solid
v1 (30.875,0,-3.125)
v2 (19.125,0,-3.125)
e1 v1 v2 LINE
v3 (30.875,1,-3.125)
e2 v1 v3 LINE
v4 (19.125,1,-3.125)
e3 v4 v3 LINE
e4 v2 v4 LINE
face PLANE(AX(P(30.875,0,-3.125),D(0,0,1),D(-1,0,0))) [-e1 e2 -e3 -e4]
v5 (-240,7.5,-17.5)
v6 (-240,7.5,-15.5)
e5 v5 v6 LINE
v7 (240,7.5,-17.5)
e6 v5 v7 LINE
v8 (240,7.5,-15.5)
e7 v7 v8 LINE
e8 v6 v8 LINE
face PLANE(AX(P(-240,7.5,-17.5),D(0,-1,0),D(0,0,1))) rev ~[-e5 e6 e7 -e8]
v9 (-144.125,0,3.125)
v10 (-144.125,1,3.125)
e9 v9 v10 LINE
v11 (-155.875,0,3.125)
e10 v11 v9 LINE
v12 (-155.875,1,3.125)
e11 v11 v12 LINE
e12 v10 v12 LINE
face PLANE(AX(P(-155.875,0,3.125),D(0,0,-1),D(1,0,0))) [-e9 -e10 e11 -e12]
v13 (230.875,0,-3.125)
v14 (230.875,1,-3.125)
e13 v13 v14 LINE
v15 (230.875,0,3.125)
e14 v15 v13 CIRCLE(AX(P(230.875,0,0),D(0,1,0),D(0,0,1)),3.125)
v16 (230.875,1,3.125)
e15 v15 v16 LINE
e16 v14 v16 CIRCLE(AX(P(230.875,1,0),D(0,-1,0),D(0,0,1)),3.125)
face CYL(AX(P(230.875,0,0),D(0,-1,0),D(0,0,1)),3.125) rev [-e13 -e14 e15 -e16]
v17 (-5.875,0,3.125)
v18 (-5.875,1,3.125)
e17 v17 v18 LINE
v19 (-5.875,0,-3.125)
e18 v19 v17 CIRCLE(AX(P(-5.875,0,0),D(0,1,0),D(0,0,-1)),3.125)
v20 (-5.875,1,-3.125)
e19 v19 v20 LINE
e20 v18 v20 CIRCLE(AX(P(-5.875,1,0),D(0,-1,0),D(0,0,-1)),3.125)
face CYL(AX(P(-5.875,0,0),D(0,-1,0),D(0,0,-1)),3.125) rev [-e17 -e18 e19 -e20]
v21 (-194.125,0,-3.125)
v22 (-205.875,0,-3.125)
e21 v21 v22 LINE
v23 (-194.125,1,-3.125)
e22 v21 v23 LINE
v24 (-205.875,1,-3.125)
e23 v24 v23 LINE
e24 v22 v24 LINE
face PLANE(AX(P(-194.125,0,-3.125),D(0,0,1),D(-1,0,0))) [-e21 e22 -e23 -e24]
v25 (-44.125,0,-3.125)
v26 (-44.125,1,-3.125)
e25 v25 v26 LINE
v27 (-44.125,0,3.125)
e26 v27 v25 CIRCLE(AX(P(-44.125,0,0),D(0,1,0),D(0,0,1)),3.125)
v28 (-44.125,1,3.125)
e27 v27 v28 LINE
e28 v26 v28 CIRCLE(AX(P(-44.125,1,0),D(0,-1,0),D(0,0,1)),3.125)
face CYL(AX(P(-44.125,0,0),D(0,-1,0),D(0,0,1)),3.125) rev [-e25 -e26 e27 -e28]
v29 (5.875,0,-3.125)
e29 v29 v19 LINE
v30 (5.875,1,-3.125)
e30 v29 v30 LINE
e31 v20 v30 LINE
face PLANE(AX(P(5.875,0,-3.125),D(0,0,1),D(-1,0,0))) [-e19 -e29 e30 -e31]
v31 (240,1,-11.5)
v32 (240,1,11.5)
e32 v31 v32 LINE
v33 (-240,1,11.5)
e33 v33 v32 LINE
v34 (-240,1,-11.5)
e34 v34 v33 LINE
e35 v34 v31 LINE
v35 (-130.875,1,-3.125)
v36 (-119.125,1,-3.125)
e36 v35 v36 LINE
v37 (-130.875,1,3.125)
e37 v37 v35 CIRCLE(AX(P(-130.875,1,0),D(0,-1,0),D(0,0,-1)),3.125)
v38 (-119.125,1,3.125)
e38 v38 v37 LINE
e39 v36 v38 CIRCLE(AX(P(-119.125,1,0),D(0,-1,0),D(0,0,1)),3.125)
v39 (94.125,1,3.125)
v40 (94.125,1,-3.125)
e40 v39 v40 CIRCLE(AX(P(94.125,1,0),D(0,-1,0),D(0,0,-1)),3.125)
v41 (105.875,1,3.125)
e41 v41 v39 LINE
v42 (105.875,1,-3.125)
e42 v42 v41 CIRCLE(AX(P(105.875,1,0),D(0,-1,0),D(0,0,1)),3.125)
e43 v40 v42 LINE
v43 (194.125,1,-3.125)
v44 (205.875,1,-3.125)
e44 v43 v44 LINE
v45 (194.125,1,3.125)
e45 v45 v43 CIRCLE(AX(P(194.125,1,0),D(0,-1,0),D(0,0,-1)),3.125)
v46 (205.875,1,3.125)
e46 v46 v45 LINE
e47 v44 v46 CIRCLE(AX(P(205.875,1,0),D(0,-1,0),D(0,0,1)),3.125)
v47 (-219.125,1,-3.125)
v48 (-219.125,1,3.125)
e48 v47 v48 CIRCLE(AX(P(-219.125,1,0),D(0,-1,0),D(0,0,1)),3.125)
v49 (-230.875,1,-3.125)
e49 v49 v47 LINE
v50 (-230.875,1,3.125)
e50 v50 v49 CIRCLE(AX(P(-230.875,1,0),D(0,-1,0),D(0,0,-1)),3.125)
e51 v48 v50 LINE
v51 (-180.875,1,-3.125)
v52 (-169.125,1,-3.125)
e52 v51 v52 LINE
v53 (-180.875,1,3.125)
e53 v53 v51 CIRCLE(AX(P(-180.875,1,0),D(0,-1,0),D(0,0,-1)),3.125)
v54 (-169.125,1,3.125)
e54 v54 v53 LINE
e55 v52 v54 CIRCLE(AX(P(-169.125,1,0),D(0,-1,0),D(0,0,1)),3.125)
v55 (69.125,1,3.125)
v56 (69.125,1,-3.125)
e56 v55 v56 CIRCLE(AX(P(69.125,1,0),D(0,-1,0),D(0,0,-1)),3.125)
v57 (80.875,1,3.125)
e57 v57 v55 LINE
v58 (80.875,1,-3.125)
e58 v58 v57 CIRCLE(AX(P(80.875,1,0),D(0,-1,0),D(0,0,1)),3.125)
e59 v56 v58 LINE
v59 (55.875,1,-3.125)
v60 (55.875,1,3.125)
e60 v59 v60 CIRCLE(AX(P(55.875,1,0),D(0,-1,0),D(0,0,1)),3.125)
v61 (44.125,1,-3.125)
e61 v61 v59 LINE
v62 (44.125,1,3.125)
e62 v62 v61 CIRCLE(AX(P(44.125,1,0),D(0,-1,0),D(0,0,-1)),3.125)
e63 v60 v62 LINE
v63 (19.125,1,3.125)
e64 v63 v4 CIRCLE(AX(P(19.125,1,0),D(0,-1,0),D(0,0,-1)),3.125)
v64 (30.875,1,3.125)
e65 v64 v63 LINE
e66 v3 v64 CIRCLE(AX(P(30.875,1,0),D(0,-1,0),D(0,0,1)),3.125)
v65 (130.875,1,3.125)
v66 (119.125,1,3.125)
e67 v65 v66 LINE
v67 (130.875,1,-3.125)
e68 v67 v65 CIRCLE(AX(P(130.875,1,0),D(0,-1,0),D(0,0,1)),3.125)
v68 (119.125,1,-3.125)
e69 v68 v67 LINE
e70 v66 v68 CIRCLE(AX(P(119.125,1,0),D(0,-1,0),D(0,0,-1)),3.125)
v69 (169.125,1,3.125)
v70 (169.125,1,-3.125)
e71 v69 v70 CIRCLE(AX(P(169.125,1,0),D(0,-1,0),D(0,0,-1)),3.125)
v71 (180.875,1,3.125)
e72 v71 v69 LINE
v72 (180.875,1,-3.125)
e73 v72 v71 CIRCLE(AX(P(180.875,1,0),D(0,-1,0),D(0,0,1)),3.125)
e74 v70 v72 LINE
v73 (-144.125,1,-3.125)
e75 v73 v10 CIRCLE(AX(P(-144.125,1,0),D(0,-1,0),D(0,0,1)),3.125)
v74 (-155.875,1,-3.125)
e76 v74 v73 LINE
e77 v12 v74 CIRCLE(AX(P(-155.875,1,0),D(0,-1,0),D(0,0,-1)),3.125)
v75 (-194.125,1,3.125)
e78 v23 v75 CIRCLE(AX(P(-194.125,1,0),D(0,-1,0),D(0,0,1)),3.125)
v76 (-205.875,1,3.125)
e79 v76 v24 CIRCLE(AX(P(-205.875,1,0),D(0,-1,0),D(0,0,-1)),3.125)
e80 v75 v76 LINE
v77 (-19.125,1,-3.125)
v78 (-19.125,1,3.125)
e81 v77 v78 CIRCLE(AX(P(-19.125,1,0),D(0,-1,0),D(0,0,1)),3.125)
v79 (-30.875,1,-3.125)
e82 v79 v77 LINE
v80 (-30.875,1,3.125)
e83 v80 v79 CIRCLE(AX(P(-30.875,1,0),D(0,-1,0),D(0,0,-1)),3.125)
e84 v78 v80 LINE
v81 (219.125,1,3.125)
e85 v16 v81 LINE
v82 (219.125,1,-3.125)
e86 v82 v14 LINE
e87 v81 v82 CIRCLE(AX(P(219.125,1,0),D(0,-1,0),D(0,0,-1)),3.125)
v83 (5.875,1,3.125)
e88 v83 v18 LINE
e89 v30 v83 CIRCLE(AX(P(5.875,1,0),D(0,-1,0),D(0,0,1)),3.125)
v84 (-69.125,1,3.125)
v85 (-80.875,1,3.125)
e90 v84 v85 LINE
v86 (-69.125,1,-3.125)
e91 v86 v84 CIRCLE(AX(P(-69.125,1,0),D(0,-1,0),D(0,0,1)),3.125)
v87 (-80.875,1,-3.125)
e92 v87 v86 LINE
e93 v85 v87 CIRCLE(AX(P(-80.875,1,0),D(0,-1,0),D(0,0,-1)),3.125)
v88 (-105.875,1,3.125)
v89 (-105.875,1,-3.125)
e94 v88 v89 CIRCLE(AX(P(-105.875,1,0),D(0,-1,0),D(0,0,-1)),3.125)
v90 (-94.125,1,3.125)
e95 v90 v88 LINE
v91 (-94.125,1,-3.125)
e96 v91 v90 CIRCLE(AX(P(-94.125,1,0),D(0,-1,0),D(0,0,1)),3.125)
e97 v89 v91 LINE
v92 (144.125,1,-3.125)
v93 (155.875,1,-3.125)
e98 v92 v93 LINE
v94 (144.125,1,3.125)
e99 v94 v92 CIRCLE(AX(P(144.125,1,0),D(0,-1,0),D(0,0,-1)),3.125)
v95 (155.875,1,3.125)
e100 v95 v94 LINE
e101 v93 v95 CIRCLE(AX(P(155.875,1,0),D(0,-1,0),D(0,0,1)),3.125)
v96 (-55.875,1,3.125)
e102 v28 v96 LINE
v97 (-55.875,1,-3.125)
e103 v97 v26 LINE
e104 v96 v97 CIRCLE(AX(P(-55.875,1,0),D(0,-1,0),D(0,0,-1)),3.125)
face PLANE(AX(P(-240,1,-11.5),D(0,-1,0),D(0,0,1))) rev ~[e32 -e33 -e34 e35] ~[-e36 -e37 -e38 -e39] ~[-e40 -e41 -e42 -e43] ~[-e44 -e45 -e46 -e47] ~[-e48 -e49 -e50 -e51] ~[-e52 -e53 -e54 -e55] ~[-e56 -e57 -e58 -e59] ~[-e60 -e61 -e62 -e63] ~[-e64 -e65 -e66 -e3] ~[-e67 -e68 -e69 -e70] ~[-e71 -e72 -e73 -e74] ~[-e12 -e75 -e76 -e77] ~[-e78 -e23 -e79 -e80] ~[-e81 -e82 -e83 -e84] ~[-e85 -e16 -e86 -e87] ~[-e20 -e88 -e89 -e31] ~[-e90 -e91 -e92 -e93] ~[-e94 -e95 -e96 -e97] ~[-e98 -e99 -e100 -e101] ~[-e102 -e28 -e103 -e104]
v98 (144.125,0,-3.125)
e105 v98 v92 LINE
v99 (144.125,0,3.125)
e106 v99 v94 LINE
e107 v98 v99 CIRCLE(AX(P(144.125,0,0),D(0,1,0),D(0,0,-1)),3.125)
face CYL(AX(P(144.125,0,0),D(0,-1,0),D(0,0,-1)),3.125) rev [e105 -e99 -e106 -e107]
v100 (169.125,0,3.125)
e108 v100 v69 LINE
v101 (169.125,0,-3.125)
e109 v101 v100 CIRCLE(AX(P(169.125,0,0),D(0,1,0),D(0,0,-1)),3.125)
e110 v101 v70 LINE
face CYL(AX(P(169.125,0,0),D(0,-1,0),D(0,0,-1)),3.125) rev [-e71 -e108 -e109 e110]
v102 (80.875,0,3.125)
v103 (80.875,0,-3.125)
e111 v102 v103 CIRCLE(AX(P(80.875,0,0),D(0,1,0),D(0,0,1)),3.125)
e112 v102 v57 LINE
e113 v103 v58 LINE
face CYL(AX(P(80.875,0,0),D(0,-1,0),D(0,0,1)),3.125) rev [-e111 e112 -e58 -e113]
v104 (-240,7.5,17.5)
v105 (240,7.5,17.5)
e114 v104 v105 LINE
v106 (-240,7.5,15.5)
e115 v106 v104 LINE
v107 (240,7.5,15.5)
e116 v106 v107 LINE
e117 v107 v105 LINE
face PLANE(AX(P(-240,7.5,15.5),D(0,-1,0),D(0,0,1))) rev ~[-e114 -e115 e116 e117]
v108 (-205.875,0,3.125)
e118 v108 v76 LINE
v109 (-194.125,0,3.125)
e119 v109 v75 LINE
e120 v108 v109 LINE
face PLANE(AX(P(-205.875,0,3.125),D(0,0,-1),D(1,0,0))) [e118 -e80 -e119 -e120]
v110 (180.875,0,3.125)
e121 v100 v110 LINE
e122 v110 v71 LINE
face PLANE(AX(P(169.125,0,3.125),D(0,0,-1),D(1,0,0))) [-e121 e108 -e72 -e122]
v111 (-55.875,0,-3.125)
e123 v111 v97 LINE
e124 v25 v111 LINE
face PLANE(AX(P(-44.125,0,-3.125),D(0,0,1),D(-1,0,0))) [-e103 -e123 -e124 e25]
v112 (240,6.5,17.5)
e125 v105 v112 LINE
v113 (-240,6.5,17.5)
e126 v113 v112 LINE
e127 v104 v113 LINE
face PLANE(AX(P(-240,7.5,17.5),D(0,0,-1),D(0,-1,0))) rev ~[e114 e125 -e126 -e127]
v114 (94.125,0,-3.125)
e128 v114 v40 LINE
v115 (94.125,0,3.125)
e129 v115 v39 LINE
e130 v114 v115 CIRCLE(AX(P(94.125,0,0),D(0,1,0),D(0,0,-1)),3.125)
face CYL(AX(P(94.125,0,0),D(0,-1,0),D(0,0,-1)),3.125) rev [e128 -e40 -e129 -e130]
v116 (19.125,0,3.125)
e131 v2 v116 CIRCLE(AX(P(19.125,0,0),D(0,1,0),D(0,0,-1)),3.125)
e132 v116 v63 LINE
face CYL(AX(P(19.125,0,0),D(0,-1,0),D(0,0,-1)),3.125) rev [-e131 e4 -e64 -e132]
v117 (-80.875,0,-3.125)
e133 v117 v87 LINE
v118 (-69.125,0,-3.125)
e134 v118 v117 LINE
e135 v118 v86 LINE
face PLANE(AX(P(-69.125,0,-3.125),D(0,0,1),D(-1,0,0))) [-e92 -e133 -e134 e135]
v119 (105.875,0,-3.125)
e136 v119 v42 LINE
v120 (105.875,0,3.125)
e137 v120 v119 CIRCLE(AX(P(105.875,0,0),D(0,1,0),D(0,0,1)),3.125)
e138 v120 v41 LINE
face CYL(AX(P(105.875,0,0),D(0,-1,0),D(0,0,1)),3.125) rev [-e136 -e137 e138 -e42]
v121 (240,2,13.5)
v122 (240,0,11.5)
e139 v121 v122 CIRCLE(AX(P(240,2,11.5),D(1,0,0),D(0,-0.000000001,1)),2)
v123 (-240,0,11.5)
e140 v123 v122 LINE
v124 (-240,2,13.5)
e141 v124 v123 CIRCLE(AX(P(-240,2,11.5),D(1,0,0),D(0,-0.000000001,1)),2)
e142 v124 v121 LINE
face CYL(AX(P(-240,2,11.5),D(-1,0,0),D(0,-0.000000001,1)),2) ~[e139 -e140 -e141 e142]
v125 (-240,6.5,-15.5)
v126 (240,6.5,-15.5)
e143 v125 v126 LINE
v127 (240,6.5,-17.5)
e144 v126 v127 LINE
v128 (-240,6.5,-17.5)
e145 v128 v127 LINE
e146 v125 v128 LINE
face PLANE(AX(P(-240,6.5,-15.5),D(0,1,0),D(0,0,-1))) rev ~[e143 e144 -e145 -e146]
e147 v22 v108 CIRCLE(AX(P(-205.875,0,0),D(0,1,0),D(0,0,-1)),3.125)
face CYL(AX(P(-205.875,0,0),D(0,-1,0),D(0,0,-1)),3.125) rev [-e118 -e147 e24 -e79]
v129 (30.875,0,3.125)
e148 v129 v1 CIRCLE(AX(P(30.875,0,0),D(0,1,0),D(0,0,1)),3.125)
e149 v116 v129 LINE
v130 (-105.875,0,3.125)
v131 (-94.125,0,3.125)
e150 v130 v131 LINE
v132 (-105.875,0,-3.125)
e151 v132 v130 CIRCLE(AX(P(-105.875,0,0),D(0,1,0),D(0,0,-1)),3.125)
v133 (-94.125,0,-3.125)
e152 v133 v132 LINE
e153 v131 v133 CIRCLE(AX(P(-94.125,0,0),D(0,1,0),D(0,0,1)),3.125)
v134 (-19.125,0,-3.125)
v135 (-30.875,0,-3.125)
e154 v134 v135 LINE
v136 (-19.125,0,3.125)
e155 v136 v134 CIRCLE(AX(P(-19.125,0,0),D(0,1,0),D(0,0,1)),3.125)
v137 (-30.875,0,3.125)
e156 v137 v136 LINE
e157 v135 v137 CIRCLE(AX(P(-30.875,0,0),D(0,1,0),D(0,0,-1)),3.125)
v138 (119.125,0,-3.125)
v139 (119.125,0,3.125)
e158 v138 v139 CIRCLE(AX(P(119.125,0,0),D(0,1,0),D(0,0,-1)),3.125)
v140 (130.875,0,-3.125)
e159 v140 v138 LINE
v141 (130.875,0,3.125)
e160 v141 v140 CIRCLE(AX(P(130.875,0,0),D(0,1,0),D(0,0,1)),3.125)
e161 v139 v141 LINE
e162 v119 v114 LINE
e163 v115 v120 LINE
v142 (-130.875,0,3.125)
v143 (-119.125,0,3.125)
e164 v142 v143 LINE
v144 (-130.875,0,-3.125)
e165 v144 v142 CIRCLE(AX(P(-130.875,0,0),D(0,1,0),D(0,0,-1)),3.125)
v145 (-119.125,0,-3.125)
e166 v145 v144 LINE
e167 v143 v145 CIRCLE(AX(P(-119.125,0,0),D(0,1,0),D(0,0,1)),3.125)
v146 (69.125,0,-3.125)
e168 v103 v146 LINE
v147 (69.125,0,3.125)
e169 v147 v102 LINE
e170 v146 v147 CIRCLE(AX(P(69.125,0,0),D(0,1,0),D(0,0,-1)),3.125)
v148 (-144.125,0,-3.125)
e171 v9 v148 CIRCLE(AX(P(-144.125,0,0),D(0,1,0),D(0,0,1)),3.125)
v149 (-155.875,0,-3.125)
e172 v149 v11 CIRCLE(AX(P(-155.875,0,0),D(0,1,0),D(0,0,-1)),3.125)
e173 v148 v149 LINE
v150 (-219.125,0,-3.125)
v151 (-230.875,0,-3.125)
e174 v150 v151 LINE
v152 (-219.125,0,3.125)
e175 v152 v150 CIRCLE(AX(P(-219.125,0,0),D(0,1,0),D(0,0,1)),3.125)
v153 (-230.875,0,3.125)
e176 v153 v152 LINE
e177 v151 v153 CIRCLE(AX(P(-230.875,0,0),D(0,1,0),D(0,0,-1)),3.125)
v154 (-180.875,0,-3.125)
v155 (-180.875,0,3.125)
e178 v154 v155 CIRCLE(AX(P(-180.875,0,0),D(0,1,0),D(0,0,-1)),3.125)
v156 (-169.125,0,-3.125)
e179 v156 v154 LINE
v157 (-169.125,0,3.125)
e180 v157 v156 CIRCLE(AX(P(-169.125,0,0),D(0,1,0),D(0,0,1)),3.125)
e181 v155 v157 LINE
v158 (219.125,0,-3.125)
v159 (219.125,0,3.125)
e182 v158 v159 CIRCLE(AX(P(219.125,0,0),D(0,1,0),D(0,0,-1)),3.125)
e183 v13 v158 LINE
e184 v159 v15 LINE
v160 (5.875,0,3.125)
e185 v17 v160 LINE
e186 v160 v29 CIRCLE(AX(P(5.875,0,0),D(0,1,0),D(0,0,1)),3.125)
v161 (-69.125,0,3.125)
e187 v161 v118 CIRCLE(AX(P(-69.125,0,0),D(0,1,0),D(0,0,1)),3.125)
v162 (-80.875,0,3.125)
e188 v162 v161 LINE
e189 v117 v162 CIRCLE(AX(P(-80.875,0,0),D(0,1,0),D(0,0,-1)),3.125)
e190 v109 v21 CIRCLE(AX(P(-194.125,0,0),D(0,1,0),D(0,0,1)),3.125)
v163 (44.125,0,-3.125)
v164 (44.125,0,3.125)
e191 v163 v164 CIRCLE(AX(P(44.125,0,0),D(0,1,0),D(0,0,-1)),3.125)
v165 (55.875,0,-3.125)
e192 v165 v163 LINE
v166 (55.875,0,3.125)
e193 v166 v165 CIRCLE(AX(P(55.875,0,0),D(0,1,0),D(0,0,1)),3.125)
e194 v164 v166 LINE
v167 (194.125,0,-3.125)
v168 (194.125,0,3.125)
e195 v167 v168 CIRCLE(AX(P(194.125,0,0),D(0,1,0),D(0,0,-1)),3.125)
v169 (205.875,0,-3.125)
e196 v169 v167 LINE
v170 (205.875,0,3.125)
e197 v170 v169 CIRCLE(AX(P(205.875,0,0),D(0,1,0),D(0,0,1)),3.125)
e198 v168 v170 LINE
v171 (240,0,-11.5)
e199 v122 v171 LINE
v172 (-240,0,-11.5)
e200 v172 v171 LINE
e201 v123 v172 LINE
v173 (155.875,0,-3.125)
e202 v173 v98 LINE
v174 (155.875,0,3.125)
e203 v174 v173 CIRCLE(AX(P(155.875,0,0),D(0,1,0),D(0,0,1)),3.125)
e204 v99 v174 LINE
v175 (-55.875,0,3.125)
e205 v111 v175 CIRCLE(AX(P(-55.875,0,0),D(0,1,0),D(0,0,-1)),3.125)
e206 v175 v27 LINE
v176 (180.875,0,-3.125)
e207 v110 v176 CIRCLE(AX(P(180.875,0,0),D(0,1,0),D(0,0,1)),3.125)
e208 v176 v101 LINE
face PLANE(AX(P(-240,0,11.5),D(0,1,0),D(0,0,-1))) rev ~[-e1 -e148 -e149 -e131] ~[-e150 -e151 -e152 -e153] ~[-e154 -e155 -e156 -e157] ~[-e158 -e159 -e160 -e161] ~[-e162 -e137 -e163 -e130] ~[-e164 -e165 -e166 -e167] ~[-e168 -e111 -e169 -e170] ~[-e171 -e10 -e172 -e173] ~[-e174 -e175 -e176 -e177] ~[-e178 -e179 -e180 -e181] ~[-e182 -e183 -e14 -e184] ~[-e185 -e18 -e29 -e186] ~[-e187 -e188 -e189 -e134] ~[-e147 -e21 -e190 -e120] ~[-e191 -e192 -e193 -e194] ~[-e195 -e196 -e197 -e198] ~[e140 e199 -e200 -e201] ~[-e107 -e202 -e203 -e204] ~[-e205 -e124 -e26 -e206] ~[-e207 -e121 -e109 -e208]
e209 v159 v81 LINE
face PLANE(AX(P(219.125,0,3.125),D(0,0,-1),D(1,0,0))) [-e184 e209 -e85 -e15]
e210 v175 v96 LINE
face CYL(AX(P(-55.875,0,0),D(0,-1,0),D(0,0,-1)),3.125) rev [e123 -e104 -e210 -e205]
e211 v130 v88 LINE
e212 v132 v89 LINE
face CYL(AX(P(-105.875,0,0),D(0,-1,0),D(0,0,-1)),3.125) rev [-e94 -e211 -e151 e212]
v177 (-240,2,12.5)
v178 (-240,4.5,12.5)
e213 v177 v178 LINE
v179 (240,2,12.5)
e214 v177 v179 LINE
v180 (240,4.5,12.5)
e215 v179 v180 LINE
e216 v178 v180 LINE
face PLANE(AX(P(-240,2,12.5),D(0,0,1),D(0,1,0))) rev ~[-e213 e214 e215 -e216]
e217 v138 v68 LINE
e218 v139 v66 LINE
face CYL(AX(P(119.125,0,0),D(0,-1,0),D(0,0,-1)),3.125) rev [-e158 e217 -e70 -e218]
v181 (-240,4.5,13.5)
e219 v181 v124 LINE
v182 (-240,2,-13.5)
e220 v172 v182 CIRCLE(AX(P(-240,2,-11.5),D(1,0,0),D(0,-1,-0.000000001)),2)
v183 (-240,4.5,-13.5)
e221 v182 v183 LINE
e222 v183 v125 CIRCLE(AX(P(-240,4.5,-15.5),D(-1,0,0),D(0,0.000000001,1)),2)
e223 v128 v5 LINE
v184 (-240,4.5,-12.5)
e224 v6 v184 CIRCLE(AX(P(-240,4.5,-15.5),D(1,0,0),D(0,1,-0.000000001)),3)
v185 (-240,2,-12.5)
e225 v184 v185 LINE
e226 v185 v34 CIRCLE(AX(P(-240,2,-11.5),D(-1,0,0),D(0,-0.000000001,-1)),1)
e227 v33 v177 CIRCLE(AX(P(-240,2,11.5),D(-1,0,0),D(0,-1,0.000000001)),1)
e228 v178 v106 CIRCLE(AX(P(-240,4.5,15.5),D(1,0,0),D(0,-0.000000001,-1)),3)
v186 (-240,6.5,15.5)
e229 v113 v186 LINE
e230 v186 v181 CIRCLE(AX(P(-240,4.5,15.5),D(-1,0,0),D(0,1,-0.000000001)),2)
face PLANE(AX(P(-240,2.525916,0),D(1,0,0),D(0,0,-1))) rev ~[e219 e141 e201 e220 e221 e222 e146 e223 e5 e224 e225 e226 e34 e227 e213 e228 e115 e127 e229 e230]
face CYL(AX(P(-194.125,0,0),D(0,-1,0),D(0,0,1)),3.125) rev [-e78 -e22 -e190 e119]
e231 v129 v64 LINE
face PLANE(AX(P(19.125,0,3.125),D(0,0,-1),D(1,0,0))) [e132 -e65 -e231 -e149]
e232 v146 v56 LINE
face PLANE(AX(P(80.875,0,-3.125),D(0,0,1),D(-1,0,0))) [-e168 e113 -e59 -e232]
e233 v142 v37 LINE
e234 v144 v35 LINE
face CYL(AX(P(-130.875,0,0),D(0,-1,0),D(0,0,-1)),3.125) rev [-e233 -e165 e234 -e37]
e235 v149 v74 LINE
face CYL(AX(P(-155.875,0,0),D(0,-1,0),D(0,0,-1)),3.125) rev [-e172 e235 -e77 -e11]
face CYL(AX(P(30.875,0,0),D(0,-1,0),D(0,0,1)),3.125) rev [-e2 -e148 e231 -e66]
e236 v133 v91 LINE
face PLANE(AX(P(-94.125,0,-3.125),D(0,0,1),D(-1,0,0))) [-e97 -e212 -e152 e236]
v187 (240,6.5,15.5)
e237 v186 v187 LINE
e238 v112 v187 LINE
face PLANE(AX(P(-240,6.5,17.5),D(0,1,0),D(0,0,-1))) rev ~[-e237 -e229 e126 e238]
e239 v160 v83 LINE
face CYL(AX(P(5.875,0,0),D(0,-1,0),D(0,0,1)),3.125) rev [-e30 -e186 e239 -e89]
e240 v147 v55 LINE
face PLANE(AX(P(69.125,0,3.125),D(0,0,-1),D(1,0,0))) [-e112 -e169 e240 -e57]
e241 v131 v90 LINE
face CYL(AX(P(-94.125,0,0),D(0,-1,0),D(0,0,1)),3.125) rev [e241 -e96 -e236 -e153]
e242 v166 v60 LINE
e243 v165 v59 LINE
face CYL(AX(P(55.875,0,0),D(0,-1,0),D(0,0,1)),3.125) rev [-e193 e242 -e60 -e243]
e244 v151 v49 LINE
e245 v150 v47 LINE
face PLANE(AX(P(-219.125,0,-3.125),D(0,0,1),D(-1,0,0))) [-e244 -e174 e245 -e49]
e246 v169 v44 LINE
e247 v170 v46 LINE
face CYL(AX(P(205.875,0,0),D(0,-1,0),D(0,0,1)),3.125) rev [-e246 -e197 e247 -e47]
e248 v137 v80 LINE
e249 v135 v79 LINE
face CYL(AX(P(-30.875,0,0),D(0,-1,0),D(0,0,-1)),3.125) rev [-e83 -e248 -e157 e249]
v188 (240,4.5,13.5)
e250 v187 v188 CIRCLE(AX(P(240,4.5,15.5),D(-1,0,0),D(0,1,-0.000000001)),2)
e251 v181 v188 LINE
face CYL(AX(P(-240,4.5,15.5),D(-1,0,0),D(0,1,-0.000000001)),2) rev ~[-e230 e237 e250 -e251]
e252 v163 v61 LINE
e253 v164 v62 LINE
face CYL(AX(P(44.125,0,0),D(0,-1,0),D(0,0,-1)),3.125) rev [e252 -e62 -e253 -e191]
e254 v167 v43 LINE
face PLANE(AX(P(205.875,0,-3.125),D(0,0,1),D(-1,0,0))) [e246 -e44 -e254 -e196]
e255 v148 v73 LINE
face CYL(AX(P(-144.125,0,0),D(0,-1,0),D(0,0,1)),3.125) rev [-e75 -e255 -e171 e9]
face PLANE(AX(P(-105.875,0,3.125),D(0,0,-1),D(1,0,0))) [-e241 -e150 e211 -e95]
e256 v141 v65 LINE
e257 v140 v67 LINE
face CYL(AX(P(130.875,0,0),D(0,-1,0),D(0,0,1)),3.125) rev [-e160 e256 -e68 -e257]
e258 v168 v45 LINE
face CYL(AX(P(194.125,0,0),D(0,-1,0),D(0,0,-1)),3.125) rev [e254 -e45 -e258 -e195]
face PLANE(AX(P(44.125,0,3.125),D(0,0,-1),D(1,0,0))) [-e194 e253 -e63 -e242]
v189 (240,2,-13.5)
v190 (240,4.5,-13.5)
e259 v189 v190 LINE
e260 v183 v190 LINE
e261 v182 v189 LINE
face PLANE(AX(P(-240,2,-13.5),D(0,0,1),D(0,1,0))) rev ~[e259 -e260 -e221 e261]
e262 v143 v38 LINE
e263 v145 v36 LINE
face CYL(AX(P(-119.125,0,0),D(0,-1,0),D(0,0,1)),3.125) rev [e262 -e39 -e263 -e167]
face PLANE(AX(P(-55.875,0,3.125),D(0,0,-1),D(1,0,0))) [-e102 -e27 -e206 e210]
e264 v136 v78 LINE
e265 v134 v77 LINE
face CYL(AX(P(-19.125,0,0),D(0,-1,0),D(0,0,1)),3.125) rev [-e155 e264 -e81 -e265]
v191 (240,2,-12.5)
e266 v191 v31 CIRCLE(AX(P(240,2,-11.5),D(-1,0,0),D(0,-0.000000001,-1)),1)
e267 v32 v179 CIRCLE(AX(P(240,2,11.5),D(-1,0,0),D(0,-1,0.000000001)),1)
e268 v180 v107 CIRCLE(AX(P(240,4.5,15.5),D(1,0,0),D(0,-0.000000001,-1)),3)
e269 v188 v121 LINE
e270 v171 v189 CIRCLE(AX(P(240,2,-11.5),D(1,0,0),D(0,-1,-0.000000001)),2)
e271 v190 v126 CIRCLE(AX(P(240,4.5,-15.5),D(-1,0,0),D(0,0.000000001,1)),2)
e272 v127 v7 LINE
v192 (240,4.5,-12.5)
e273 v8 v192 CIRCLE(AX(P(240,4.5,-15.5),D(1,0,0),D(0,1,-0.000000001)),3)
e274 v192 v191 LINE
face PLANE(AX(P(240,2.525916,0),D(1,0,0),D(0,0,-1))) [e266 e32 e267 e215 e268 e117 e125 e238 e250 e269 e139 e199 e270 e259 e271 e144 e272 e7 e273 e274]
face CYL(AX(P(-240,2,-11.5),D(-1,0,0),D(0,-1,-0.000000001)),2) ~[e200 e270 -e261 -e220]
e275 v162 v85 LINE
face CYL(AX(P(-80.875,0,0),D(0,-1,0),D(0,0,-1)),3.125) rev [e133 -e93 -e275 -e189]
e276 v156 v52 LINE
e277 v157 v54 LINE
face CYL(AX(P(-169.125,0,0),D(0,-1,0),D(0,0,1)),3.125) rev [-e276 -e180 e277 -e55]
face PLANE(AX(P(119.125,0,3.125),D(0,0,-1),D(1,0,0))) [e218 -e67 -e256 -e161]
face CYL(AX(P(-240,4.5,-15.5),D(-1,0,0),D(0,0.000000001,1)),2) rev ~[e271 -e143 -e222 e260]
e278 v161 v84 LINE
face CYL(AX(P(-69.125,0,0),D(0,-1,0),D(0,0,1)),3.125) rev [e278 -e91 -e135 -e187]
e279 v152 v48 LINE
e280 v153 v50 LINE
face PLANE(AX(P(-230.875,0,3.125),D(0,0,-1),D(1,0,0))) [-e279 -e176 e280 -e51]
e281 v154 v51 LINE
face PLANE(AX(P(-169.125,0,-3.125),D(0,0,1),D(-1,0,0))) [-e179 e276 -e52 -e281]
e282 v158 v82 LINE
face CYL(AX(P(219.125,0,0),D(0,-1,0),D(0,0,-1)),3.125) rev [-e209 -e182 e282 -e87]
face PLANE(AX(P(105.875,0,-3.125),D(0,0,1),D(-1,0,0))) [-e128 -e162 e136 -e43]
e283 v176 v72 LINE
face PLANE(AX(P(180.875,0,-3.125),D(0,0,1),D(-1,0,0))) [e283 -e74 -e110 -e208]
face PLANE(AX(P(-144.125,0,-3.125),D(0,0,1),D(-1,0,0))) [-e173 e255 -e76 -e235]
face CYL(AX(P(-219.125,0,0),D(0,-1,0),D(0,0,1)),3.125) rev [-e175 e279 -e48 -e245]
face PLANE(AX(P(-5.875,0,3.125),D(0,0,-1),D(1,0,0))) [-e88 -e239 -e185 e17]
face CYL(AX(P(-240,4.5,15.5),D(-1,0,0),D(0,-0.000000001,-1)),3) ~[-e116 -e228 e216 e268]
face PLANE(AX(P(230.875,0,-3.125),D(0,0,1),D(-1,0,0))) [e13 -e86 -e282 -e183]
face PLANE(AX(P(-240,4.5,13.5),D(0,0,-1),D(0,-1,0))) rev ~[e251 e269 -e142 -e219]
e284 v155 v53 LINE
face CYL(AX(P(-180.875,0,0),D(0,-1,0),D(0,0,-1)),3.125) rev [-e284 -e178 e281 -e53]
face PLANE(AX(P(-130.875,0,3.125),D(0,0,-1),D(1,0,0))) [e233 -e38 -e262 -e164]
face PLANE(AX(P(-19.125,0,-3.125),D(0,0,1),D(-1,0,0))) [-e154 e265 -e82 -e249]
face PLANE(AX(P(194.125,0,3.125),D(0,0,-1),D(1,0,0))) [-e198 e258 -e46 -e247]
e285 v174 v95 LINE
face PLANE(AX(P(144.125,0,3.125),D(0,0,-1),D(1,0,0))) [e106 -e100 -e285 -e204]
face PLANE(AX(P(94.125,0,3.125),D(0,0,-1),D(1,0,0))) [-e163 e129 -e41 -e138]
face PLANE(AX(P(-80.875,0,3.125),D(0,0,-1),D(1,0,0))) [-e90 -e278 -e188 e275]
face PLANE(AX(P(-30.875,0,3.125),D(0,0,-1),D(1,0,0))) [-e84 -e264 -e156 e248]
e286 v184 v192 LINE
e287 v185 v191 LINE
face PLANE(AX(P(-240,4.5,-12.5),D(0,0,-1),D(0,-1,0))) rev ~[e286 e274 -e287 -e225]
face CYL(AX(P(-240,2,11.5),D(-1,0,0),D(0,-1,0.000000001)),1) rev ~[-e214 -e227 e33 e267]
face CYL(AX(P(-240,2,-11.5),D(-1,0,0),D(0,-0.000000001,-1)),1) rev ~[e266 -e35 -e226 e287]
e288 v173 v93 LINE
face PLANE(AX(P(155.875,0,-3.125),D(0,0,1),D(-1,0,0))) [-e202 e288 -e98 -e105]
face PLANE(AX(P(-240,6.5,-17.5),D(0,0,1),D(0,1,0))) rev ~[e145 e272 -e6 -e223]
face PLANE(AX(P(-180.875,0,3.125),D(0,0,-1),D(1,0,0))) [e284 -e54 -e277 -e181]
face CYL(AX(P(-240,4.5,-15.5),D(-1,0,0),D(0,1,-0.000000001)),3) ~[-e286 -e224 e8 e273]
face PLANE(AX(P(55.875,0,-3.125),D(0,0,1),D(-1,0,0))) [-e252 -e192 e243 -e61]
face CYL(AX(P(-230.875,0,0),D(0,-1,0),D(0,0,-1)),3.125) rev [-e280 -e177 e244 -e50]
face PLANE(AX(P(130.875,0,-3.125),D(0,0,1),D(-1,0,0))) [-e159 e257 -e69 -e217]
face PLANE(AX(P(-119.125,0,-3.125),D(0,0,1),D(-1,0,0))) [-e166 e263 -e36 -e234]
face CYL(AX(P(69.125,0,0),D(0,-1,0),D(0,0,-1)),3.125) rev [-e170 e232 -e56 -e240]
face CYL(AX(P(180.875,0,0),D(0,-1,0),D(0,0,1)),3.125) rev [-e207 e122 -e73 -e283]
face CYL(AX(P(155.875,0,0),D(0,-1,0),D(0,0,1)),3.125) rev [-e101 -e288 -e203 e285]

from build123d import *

# Parameters (mm, degrees)
EXTRUDE_THIN1_DEPTH      = 240
EXTRUDE_THIN1_DEPTH_BACK = 240
CUT_EXTRUDE1_REACH       = 242.754
LPATTERN1_COUNT          = 10
LPATTERN1_PITCH          = 25
LPATTERN1_COL_COUNT      = 10
LPATTERN1_COL_PITCH      = 25


with BuildPart() as part:
    # Sketch1 → Extrude-Thin1 (new, two sides: drawn at the far end of the back side and taken through both)
    with BuildSketch(Plane(origin=(0, 0, 0), x_dir=(0, 0, -1), z_dir=(1, 0, 0)).offset(-EXTRUDE_THIN1_DEPTH_BACK)):
        with BuildLine():
            Line((-17.5, 6.5), (-15.5, 6.5))
            ThreePointArc((-15.5, 6.5), (-14.085786438, 5.914213562), (-13.5, 4.5))
            Line((-13.5, 4.5), (-13.5, 2))
            ThreePointArc((-13.5, 2), (-12.914213562, 0.585786438), (-11.5, 0))
            Line((-11.5, 0), (11.5, 0))
            ThreePointArc((11.5, 0), (12.914213562, 0.585786438), (13.5, 2))
            Line((13.5, 2), (13.5, 4.5))
            ThreePointArc((13.5, 4.5), (14.085786438, 5.914213562), (15.5, 6.5))
            Line((15.5, 6.5), (17.5, 6.5))
            Line((17.5, 6.5), (17.5, 7.5))
            Line((17.5, 7.5), (15.5, 7.5))
            ThreePointArc((15.5, 7.5), (13.378679656, 6.621320344), (12.5, 4.5))
            Line((12.5, 4.5), (12.5, 2))
            ThreePointArc((12.5, 2), (12.207106781, 1.292893219), (11.5, 1))
            Line((11.5, 1), (-11.5, 1))
            ThreePointArc((-11.5, 1), (-12.207106781, 1.292893219), (-12.5, 2))
            Line((-12.5, 2), (-12.5, 4.5))
            ThreePointArc((-12.5, 4.5), (-13.378679656, 6.621320344), (-15.5, 7.5))
            Line((-15.5, 7.5), (-17.5, 7.5))
            Line((-17.5, 7.5), (-17.5, 6.5))
        make_face()
    extrude(amount=EXTRUDE_THIN1_DEPTH + EXTRUDE_THIN1_DEPTH_BACK)

    # Sketch2 → Cut-Extrude1 (cut, up to next)
    with BuildSketch(Plane.XZ, mode=Mode.PRIVATE) as cut_extrude1_sk1:
        with BuildLine():
            Line((-5.875, 3.125), (5.875, 3.125))
            ThreePointArc((5.875, 3.125), (9, 0), (5.875, -3.125))
            Line((5.875, -3.125), (-5.875, -3.125))
            ThreePointArc((-5.875, -3.125), (-9, 0), (-5.875, 3.125))
        make_face()
    cut_extrude1_tool1 = extrude(cut_extrude1_sk1.sketch, amount=-CUT_EXTRUDE1_REACH, mode=Mode.PRIVATE) & part.part
    cut_extrude1 = cut_extrude1_tool1.solids().sort_by_distance((0, 0, 0))[0]
    add(cut_extrude1, mode=Mode.SUBTRACT)

    # LPattern1: Cut-Extrude1 ×10
    with Locations(*[(i * LPATTERN1_PITCH, 0, 0) for i in range(1, LPATTERN1_COUNT)]):
        add(cut_extrude1, mode=Mode.SUBTRACT)

    # LPattern1 col: Cut-Extrude1 ×10
    with Locations(*[(-i * LPATTERN1_COL_PITCH, 0, 0) for i in range(1, LPATTERN1_COL_COUNT)]):
        add(cut_extrude1, mode=Mode.SUBTRACT)


solid = part.part
